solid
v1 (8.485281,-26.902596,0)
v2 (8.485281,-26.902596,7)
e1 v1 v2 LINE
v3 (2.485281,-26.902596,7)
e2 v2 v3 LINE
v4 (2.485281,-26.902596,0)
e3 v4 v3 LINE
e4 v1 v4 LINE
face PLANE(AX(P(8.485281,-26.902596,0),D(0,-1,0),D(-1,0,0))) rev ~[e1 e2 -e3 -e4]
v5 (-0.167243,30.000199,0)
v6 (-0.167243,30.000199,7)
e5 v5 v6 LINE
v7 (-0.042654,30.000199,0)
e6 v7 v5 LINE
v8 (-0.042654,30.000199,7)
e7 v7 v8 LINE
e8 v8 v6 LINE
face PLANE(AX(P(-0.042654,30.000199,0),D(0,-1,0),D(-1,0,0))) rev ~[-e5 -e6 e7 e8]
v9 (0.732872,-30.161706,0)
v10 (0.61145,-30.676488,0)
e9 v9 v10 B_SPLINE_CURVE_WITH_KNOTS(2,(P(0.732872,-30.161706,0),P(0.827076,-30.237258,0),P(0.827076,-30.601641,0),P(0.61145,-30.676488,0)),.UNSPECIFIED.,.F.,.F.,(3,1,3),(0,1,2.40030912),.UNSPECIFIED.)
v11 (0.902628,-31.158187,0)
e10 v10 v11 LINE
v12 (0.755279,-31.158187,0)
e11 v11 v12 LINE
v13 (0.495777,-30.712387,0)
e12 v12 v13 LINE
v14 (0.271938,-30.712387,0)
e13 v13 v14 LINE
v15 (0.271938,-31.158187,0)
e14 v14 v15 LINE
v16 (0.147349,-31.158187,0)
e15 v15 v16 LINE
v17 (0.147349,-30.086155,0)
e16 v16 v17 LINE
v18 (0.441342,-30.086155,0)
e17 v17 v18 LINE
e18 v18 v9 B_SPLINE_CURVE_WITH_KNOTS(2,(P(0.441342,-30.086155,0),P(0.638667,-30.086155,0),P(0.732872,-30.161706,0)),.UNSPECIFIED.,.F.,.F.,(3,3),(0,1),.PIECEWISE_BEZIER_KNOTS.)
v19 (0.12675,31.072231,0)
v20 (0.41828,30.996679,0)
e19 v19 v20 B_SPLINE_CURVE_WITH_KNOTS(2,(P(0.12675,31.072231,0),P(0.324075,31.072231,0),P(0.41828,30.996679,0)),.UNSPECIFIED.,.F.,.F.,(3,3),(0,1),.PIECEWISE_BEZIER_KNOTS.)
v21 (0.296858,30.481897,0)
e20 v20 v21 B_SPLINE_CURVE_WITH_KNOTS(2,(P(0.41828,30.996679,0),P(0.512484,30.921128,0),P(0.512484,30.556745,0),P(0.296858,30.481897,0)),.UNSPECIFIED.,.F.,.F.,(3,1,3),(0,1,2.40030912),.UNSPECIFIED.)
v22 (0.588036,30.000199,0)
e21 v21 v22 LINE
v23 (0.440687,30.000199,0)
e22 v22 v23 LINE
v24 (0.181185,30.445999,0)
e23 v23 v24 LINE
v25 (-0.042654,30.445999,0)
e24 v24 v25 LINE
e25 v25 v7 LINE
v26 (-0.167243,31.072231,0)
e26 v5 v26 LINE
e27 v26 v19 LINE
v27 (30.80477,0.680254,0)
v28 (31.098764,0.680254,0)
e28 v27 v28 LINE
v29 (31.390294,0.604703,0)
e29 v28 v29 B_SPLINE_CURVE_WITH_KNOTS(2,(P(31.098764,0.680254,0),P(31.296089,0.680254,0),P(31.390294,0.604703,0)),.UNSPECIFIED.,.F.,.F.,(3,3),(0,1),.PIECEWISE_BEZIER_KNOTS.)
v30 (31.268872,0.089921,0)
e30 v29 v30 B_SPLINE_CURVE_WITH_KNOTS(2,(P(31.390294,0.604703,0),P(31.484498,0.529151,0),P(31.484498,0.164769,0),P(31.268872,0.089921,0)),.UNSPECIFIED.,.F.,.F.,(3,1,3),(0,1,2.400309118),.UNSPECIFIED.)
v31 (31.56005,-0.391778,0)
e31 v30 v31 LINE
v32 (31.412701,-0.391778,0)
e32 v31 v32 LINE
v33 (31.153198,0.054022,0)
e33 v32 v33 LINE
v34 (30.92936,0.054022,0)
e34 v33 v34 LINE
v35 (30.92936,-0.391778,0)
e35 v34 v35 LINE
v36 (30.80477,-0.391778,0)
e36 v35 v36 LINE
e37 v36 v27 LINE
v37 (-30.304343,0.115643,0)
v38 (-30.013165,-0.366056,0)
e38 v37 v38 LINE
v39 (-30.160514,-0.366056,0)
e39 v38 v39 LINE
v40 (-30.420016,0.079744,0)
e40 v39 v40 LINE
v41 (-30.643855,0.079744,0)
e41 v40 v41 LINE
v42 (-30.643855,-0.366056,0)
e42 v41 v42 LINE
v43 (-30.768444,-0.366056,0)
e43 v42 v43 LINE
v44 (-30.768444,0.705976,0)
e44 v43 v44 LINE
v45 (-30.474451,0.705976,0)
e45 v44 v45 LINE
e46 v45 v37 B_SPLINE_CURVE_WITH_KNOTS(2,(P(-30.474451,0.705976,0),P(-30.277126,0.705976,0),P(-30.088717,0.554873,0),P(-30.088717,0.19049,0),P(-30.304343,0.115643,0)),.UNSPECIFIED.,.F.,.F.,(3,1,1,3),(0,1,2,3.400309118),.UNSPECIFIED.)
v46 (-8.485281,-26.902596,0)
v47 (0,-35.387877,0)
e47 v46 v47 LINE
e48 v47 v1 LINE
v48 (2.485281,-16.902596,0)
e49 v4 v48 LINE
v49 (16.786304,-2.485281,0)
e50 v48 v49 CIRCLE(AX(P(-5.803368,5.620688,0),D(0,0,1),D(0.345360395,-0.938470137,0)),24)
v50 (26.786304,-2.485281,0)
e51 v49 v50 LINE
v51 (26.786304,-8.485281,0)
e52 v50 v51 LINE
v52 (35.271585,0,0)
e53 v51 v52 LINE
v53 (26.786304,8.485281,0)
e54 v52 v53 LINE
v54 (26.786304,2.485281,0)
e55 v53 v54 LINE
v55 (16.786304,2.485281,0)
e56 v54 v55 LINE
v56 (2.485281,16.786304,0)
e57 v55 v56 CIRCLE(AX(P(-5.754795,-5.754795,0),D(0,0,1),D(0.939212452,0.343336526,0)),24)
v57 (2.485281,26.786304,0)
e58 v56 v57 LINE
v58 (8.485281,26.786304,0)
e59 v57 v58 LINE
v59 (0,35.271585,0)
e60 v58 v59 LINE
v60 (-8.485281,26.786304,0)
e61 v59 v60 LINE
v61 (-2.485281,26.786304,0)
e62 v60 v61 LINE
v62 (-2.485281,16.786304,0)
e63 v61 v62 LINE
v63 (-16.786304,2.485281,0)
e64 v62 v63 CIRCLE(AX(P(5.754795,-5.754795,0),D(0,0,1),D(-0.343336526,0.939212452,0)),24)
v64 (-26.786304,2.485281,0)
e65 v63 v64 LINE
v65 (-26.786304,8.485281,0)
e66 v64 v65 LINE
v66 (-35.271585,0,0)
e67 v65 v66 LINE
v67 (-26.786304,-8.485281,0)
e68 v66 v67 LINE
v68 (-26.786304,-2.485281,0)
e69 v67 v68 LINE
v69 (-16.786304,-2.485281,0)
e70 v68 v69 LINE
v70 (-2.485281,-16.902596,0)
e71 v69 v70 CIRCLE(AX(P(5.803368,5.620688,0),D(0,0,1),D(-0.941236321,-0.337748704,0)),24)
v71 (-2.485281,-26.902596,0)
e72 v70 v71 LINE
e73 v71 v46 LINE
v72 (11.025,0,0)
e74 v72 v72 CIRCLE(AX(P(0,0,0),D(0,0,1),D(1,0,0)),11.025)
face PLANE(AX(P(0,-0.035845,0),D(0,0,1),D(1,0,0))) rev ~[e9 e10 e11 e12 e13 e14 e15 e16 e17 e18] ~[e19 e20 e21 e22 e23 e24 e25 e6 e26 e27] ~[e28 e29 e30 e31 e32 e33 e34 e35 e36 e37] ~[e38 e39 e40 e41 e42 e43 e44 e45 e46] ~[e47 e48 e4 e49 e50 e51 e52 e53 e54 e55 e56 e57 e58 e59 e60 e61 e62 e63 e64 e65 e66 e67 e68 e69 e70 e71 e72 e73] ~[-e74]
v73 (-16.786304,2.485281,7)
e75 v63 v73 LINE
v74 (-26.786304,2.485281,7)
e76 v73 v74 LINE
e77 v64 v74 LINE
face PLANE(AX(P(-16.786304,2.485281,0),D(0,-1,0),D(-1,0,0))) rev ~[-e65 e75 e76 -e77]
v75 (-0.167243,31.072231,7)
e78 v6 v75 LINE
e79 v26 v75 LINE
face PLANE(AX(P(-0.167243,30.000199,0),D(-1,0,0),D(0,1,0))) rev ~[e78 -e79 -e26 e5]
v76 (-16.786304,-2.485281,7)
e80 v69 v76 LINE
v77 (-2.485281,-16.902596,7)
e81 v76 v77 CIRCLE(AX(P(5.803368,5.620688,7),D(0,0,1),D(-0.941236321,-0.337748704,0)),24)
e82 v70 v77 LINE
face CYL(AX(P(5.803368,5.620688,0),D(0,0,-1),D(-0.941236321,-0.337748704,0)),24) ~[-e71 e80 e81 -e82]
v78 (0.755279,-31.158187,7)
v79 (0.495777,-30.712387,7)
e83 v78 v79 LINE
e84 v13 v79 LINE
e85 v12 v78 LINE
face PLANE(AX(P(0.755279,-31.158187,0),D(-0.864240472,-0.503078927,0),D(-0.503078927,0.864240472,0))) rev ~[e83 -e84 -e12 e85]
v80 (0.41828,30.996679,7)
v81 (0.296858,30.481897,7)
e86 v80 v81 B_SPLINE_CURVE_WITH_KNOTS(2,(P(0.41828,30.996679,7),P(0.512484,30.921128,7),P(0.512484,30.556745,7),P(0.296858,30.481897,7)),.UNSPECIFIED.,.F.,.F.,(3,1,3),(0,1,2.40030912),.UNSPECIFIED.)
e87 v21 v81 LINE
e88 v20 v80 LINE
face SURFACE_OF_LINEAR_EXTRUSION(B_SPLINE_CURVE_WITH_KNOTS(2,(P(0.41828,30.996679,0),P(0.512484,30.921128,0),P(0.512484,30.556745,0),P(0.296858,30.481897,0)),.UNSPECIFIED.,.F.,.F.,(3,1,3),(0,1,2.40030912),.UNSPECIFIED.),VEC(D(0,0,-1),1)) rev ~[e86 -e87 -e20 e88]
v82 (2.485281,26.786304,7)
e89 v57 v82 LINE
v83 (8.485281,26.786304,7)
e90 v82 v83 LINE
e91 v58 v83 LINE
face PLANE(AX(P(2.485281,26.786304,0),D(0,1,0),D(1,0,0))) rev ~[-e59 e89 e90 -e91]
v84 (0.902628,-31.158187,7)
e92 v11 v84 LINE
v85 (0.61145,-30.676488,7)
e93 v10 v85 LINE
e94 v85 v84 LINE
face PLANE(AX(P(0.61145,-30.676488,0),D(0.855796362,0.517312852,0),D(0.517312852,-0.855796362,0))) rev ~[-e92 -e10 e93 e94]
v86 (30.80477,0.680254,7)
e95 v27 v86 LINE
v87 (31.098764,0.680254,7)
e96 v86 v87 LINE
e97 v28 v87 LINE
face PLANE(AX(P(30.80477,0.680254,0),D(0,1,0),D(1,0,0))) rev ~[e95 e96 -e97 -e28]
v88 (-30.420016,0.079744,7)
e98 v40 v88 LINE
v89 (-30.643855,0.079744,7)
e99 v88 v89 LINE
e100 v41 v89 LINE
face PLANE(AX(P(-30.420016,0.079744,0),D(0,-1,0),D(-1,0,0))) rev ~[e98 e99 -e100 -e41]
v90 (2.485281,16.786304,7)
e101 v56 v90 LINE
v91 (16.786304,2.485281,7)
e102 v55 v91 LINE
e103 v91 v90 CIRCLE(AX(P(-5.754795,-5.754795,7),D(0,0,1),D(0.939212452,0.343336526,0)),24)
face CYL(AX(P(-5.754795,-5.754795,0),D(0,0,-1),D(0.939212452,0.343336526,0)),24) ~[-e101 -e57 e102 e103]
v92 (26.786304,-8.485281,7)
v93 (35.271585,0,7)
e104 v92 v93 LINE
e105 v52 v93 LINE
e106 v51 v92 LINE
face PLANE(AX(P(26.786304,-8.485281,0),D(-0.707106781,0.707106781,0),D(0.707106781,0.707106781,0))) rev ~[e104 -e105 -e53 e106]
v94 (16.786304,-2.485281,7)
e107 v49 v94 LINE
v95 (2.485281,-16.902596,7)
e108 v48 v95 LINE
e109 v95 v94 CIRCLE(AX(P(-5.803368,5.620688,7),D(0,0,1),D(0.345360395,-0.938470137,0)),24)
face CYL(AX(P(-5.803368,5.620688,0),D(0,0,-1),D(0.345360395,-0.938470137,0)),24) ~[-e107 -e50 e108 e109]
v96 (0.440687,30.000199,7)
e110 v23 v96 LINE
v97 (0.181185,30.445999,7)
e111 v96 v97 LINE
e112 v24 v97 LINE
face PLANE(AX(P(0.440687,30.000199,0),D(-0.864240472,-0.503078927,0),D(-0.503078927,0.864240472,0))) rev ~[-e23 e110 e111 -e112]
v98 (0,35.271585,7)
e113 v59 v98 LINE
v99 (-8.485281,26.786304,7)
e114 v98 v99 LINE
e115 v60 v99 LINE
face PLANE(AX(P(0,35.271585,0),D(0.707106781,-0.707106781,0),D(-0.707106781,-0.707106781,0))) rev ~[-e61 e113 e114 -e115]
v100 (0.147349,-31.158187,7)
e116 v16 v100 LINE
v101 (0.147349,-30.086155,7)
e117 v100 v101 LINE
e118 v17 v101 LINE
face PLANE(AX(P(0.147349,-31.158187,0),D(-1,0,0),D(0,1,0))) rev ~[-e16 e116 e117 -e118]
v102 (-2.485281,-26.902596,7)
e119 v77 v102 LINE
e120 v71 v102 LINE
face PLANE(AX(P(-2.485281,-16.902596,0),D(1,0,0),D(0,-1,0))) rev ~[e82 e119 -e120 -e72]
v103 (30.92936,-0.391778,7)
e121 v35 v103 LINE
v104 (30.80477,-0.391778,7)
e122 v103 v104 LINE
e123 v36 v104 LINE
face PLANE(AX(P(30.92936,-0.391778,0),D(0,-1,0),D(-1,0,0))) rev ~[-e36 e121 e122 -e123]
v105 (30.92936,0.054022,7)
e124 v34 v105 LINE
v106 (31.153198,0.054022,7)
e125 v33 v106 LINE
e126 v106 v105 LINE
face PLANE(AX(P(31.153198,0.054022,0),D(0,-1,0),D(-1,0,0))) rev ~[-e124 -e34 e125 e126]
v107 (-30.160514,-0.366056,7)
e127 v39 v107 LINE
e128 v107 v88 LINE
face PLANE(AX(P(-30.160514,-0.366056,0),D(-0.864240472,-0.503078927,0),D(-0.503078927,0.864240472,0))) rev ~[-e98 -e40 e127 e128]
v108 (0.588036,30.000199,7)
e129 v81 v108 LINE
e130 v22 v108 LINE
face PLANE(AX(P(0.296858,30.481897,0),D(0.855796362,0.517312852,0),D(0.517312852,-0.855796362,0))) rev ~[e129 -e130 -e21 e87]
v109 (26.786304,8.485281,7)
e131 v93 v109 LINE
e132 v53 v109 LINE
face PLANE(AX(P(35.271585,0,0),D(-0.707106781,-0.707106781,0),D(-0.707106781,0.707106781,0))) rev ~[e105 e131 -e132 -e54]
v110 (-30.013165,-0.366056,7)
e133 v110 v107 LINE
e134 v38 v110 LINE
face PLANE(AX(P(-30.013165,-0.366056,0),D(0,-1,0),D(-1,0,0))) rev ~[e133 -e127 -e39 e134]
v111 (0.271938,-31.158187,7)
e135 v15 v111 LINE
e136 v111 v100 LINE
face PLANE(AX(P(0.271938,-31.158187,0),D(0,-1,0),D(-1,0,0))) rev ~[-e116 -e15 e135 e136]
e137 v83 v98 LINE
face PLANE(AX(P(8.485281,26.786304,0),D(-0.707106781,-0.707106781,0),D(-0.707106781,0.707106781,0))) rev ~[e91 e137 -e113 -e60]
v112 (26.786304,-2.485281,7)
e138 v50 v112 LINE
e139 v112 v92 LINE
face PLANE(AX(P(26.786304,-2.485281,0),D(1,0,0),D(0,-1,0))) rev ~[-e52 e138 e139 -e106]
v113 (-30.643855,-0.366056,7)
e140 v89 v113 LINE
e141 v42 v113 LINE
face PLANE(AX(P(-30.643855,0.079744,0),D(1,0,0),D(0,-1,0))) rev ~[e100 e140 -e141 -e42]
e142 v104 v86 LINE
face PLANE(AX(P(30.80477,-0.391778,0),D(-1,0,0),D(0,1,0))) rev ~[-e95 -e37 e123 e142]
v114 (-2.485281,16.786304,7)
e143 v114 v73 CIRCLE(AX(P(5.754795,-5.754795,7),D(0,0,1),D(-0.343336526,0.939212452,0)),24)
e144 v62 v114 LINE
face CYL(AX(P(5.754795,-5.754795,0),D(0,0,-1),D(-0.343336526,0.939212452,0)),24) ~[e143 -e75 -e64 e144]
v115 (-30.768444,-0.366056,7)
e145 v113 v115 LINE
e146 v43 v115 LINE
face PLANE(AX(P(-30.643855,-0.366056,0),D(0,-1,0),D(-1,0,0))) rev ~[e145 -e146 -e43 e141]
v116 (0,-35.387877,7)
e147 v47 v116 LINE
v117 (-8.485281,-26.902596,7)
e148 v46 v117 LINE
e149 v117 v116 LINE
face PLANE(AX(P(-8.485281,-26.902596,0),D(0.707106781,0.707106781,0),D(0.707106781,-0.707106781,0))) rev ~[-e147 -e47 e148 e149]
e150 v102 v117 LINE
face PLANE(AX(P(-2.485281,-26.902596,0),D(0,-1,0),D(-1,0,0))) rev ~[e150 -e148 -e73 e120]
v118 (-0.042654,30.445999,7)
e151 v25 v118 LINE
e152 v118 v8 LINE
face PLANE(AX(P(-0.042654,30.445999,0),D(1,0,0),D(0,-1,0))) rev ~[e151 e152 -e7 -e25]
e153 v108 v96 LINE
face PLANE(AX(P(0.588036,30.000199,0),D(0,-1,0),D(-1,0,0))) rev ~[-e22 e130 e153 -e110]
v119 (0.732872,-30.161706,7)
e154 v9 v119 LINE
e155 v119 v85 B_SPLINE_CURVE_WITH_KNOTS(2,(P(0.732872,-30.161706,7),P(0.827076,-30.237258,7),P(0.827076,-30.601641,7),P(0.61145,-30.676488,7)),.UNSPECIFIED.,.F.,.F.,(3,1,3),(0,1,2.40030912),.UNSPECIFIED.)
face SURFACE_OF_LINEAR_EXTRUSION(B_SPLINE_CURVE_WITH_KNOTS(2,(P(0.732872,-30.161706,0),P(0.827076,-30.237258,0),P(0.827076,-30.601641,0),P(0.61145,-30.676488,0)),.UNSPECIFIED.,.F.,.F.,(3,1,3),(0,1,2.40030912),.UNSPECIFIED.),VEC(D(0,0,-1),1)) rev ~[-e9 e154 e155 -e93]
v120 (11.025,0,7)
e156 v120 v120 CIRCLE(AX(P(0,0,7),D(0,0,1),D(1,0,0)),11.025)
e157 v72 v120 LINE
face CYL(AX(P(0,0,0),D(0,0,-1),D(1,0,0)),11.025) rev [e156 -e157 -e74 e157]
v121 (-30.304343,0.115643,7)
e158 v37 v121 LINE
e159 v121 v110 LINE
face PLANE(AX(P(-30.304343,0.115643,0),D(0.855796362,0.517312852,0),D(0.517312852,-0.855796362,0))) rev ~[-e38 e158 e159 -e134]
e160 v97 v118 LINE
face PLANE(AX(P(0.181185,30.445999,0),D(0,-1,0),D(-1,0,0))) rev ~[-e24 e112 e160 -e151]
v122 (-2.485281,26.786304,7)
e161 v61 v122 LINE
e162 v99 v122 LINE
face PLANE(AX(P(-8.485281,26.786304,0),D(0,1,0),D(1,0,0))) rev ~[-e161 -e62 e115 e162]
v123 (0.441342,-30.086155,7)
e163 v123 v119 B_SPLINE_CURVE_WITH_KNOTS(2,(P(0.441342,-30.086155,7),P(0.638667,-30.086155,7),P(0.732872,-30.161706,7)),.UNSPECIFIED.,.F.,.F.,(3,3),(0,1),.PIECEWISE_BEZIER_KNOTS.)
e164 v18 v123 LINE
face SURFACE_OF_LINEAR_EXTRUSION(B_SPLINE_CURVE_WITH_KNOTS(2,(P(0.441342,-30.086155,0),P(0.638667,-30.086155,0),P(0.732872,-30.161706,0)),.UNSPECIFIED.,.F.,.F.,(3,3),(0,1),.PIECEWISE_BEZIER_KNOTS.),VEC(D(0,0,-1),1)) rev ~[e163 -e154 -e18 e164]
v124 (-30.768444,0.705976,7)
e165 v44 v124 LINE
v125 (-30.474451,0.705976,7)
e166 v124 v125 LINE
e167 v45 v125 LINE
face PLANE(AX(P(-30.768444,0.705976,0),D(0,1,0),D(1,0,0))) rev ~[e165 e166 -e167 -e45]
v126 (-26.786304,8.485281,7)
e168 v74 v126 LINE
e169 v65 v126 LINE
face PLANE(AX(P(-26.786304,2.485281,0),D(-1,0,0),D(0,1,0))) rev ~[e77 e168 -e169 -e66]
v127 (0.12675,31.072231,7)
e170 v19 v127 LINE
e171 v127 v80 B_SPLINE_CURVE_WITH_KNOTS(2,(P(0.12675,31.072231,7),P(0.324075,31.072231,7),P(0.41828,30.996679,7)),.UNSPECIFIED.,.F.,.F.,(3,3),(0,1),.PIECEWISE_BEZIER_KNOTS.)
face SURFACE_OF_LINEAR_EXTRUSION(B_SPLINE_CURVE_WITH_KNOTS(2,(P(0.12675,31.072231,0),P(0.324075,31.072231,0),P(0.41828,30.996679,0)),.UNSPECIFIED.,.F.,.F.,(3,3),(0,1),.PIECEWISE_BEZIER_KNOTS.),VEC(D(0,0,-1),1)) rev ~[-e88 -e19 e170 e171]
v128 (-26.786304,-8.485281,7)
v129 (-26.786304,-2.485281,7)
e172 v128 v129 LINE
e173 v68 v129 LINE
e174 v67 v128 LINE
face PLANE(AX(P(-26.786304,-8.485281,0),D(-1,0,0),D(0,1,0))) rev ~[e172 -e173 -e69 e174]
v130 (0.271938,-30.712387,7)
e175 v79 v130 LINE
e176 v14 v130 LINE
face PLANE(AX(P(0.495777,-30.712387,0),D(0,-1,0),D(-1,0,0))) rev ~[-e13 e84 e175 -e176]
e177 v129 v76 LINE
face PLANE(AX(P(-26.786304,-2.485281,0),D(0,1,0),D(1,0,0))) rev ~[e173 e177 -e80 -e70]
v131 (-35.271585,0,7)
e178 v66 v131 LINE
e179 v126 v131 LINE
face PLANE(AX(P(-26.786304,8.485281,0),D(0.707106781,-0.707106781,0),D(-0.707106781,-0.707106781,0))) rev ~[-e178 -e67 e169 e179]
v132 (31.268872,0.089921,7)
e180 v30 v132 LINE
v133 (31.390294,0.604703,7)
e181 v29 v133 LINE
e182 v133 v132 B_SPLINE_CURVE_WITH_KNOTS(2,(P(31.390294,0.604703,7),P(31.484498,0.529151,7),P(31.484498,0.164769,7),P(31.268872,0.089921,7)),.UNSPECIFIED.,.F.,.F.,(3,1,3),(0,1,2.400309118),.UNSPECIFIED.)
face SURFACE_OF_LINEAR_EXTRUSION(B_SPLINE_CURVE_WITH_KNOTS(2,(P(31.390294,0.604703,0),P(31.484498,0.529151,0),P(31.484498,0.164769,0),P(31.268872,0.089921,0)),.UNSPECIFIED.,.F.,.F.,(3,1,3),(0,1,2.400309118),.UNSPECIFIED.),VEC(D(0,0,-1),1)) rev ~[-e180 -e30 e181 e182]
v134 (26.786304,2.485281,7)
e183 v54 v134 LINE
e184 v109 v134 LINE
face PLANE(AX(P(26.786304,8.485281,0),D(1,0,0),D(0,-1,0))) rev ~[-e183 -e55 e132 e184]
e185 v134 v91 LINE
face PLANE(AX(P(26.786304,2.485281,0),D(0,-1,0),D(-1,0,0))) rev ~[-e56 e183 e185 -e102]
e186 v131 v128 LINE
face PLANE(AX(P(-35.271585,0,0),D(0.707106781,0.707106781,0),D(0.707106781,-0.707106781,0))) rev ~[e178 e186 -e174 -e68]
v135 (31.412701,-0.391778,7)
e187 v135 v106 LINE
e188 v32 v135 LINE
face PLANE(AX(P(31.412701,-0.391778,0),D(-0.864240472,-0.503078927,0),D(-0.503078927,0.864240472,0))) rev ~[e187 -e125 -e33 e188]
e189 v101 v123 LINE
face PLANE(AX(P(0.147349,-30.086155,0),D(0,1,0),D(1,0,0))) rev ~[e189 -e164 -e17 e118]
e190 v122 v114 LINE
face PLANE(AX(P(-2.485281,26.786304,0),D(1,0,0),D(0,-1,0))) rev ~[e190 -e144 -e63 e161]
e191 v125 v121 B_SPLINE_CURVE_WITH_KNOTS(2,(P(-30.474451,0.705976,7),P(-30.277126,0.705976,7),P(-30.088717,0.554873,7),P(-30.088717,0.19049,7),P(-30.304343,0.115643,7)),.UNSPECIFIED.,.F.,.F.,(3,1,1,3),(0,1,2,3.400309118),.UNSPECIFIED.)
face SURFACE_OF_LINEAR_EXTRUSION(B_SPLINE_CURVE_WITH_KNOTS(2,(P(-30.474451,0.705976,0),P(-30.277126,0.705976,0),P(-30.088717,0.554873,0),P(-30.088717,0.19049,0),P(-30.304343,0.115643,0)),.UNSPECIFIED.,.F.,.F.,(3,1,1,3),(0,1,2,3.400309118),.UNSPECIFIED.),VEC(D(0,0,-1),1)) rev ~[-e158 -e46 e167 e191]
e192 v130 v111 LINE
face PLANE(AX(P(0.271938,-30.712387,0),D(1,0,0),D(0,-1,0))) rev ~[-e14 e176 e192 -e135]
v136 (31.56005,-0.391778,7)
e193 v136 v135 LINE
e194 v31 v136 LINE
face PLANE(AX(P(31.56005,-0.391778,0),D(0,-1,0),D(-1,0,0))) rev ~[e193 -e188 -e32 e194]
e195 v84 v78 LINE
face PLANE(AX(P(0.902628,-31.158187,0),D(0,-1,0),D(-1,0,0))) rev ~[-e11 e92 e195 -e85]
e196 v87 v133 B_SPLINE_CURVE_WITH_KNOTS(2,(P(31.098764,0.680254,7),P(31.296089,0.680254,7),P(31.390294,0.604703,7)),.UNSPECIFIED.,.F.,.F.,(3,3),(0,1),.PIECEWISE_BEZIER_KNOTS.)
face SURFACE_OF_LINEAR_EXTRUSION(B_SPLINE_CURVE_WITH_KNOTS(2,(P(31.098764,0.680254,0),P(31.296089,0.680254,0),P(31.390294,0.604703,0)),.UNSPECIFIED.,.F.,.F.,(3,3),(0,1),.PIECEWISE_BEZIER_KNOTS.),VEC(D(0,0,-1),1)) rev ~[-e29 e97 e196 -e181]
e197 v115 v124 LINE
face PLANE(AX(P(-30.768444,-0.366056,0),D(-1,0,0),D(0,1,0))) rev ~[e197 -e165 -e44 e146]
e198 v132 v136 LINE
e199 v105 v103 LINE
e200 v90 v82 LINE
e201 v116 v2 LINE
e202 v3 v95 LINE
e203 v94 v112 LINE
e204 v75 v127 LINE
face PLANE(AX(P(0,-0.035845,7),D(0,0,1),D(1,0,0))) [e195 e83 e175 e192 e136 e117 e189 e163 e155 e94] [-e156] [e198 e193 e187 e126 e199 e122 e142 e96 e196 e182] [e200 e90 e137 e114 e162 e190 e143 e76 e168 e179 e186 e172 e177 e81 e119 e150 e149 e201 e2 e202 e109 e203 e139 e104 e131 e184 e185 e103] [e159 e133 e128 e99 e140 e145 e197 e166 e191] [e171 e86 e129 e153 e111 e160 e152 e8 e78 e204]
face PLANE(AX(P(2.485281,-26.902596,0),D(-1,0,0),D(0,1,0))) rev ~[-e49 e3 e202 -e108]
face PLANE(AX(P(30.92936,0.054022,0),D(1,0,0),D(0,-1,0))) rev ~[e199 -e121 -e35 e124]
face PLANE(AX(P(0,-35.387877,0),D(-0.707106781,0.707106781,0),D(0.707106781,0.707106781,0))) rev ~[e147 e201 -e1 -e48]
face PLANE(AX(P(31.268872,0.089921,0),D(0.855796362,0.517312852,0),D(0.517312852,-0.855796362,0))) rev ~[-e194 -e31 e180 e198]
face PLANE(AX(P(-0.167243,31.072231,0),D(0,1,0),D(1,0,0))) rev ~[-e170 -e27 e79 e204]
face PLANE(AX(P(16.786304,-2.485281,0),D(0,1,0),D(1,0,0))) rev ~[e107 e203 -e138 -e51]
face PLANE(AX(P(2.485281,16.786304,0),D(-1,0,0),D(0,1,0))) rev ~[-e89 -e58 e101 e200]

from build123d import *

# Parameters (mm, degrees)
F0_R     = 11.025
F1_DEPTH = 7


with BuildPart() as f1:
    # F0 (on Top) → F1 (new body)
    with BuildSketch(Plane.XY):
        with BuildLine():
            Line((8.4852813742, 26.7863036134), (0, 35.2715849876))
            Line((0, 35.2715849876), (-8.4852813742, 26.7863036134))
            Line((-8.4852813742, 26.7863036134), (-2.4852813742, 26.7863036134))
            Line((-2.4852813742, 26.7863036134), (-2.4852813742, 16.7863036134))
            ThreePointArc((-2.4852813742, 16.7863036134), (-11.2157675105, 11.2157675105), (-16.7863036134, 2.4852813742))
            Line((-16.7863036134, 2.4852813742), (-26.7863036134, 2.4852813742))
            Line((-26.7863036134, 2.4852813742), (-26.7863036134, 8.4852813742))
            Line((-26.7863036134, 8.4852813742), (-35.2715849876, 0))
            Line((-35.2715849876, 0), (-26.7863036134, -8.4852813742))
            Line((-26.7863036134, -8.4852813742), (-26.7863036134, -2.4852813742))
            Line((-26.7863036134, -2.4852813742), (-16.7863036134, -2.4852813742))
            ThreePointArc((-16.7863036134, -2.4852813742), (-11.2357756094, -11.2810159865), (-2.4852813742, -16.9025957584))
            Line((-2.4852813742, -16.9025957584), (-2.4852813742, -26.9025957584))
            Line((-2.4852813742, -26.9025957584), (-8.4852813742, -26.9025957584))
            Line((-8.4852813742, -26.9025957584), (0, -35.3878771327))
            Line((0, -35.3878771327), (8.4852813742, -26.9025957584))
            Line((8.4852813742, -26.9025957584), (2.4852813742, -26.9025957584))
            Line((2.4852813742, -26.9025957584), (2.4852813742, -16.9025957584))
            ThreePointArc((2.4852813742, -16.9025957584), (11.2357756094, -11.2810159865), (16.7863036134, -2.4852813742))
            Line((16.7863036134, -2.4852813742), (26.7863036134, -2.4852813742))
            Line((26.7863036134, -2.4852813742), (26.7863036134, -8.4852813742))
            Line((26.7863036134, -8.4852813742), (35.2715849876, 0))
            Line((35.2715849876, 0), (26.7863036134, 8.4852813742))
            Line((26.7863036134, 8.4852813742), (26.7863036134, 2.4852813742))
            Line((26.7863036134, 2.4852813742), (16.7863036134, 2.4852813742))
            ThreePointArc((16.7863036134, 2.4852813742), (11.2157675105, 11.2157675105), (2.4852813742, 16.7863036134))
            Line((2.4852813742, 16.7863036134), (2.4852813742, 26.7863036134))
            Line((2.4852813742, 26.7863036134), (8.4852813742, 26.7863036134))
        make_face()
        with BuildLine():
            Line((0.4957766307, -30.7123869197), (0.2719380573, -30.7123869197))
            Line((0.2719380573, -30.7123869197), (0.2719380573, -31.1581870135))
            Line((0.2719380573, -31.1581870135), (0.1473486626, -31.1581870135))
            Line((0.1473486626, -31.1581870135), (0.1473486626, -30.0861551036))
            Line((0.1473486626, -30.0861551036), (0.4413420929, -30.0861551036))
            add(Edge.make_bspline(
                [(0.4413420929, -30.0861551036), (0.6386672924, -30.0861551036), (0.7328718911, -30.161706488)],
                knots=[0, 0, 0, 1, 1, 1], degree=2))
            add(Edge.make_bspline(
                [(0.7328718911, -30.161706488), (0.8270764899, -30.2372578723), (0.8270764899, -30.3890645358)],
                knots=[0, 0, 0, 1, 1, 1], degree=2))
            add(Edge.make_bspline(
                [(0.8270764899, -30.3890645358), (0.8270764899, -30.6016407911), (0.6114500235, -30.6764882805)],
                knots=[0, 0, 0, 1, 1, 1], degree=2))
            Line((0.6114500235, -30.6764882805), (0.9026278742, -31.1581870135))
            Line((0.9026278742, -31.1581870135), (0.7552792116, -31.1581870135))
            Line((0.7552792116, -31.1581870135), (0.4957766307, -30.7123869197))
        make_face(mode=Mode.SUBTRACT)
        with BuildLine():
            Line((-30.4200164008, 0.0797443089), (-30.6438549742, 0.0797443089))
            Line((-30.6438549742, 0.0797443089), (-30.6438549742, -0.366055785))
            Line((-30.6438549742, -0.366055785), (-30.7684443689, -0.366055785))
            Line((-30.7684443689, -0.366055785), (-30.7684443689, 0.7059761249))
            Line((-30.7684443689, 0.7059761249), (-30.4744509385, 0.7059761249))
            add(Edge.make_bspline(
                [(-30.4744509385, 0.7059761249), (-30.2771257391, 0.7059761249), (-30.1829211403, 0.6304247406)],
                knots=[0, 0, 0, 1, 1, 1], degree=2))
            add(Edge.make_bspline(
                [(-30.1829211403, 0.6304247406), (-30.0887165415, 0.5548733563), (-30.0887165415, 0.4030666927)],
                knots=[0, 0, 0, 1, 1, 1], degree=2))
            add(Edge.make_bspline(
                [(-30.0887165415, 0.4030666927), (-30.0887165415, 0.1904904375), (-30.304343008, 0.115642948)],
                knots=[0, 0, 0, 1, 1, 1], degree=2))
            Line((-30.304343008, 0.115642948), (-30.0131651572, -0.366055785))
            Line((-30.0131651572, -0.366055785), (-30.1605138198, -0.366055785))
            Line((-30.1605138198, -0.366055785), (-30.4200164008, 0.0797443089))
        make_face(mode=Mode.SUBTRACT)
        Circle(F0_R, mode=Mode.SUBTRACT)
        with BuildLine():
            Line((31.1531984282, 0.0540223872), (30.9293598548, 0.0540223872))
            Line((30.9293598548, 0.0540223872), (30.9293598548, -0.3917777067))
            Line((30.9293598548, -0.3917777067), (30.8047704601, -0.3917777067))
            Line((30.8047704601, -0.3917777067), (30.8047704601, 0.6802542032))
            Line((30.8047704601, 0.6802542032), (31.0987638904, 0.6802542032))
            add(Edge.make_bspline(
                [(31.0987638904, 0.6802542032), (31.2960890899, 0.6802542032), (31.3902936886, 0.6047028189)],
                knots=[0, 0, 0, 1, 1, 1], degree=2))
            add(Edge.make_bspline(
                [(31.3902936886, 0.6047028189), (31.4844982874, 0.5291514346), (31.4844982874, 0.377344771)],
                knots=[0, 0, 0, 1, 1, 1], degree=2))
            add(Edge.make_bspline(
                [(31.4844982874, 0.377344771), (31.4844982874, 0.1647685158), (31.268871821, 0.0899210263)],
                knots=[0, 0, 0, 1, 1, 1], degree=2))
            Line((31.268871821, 0.0899210263), (31.5600496718, -0.3917777067))
            Line((31.5600496718, -0.3917777067), (31.4127010092, -0.3917777067))
            Line((31.4127010092, -0.3917777067), (31.1531984282, 0.0540223872))
        make_face(mode=Mode.SUBTRACT)
        with BuildLine():
            Line((0.1811846398, 30.4459987263), (-0.0426539337, 30.4459987263))
            Line((-0.0426539337, 30.4459987263), (-0.0426539337, 30.0001986325))
            Line((-0.0426539337, 30.0001986325), (-0.1672433283, 30.0001986325))
            Line((-0.1672433283, 30.0001986325), (-0.1672433283, 31.0722305424))
            Line((-0.1672433283, 31.0722305424), (0.126750102, 31.0722305424))
            add(Edge.make_bspline(
                [(0.126750102, 31.0722305424), (0.3240753015, 31.0722305424), (0.4182799002, 30.9966791581)],
                knots=[0, 0, 0, 1, 1, 1], degree=2))
            add(Edge.make_bspline(
                [(0.4182799002, 30.9966791581), (0.512484499, 30.9211277737), (0.512484499, 30.7693211102)],
                knots=[0, 0, 0, 1, 1, 1], degree=2))
            add(Edge.make_bspline(
                [(0.512484499, 30.7693211102), (0.512484499, 30.5567448549), (0.2968580326, 30.4818973655)],
                knots=[0, 0, 0, 1, 1, 1], degree=2))
            Line((0.2968580326, 30.4818973655), (0.5880358833, 30.0001986325))
            Line((0.5880358833, 30.0001986325), (0.4406872207, 30.0001986325))
            Line((0.4406872207, 30.0001986325), (0.1811846398, 30.4459987263))
        make_face(mode=Mode.SUBTRACT)
    extrude(amount=F1_DEPTH)


solid = f1.part
